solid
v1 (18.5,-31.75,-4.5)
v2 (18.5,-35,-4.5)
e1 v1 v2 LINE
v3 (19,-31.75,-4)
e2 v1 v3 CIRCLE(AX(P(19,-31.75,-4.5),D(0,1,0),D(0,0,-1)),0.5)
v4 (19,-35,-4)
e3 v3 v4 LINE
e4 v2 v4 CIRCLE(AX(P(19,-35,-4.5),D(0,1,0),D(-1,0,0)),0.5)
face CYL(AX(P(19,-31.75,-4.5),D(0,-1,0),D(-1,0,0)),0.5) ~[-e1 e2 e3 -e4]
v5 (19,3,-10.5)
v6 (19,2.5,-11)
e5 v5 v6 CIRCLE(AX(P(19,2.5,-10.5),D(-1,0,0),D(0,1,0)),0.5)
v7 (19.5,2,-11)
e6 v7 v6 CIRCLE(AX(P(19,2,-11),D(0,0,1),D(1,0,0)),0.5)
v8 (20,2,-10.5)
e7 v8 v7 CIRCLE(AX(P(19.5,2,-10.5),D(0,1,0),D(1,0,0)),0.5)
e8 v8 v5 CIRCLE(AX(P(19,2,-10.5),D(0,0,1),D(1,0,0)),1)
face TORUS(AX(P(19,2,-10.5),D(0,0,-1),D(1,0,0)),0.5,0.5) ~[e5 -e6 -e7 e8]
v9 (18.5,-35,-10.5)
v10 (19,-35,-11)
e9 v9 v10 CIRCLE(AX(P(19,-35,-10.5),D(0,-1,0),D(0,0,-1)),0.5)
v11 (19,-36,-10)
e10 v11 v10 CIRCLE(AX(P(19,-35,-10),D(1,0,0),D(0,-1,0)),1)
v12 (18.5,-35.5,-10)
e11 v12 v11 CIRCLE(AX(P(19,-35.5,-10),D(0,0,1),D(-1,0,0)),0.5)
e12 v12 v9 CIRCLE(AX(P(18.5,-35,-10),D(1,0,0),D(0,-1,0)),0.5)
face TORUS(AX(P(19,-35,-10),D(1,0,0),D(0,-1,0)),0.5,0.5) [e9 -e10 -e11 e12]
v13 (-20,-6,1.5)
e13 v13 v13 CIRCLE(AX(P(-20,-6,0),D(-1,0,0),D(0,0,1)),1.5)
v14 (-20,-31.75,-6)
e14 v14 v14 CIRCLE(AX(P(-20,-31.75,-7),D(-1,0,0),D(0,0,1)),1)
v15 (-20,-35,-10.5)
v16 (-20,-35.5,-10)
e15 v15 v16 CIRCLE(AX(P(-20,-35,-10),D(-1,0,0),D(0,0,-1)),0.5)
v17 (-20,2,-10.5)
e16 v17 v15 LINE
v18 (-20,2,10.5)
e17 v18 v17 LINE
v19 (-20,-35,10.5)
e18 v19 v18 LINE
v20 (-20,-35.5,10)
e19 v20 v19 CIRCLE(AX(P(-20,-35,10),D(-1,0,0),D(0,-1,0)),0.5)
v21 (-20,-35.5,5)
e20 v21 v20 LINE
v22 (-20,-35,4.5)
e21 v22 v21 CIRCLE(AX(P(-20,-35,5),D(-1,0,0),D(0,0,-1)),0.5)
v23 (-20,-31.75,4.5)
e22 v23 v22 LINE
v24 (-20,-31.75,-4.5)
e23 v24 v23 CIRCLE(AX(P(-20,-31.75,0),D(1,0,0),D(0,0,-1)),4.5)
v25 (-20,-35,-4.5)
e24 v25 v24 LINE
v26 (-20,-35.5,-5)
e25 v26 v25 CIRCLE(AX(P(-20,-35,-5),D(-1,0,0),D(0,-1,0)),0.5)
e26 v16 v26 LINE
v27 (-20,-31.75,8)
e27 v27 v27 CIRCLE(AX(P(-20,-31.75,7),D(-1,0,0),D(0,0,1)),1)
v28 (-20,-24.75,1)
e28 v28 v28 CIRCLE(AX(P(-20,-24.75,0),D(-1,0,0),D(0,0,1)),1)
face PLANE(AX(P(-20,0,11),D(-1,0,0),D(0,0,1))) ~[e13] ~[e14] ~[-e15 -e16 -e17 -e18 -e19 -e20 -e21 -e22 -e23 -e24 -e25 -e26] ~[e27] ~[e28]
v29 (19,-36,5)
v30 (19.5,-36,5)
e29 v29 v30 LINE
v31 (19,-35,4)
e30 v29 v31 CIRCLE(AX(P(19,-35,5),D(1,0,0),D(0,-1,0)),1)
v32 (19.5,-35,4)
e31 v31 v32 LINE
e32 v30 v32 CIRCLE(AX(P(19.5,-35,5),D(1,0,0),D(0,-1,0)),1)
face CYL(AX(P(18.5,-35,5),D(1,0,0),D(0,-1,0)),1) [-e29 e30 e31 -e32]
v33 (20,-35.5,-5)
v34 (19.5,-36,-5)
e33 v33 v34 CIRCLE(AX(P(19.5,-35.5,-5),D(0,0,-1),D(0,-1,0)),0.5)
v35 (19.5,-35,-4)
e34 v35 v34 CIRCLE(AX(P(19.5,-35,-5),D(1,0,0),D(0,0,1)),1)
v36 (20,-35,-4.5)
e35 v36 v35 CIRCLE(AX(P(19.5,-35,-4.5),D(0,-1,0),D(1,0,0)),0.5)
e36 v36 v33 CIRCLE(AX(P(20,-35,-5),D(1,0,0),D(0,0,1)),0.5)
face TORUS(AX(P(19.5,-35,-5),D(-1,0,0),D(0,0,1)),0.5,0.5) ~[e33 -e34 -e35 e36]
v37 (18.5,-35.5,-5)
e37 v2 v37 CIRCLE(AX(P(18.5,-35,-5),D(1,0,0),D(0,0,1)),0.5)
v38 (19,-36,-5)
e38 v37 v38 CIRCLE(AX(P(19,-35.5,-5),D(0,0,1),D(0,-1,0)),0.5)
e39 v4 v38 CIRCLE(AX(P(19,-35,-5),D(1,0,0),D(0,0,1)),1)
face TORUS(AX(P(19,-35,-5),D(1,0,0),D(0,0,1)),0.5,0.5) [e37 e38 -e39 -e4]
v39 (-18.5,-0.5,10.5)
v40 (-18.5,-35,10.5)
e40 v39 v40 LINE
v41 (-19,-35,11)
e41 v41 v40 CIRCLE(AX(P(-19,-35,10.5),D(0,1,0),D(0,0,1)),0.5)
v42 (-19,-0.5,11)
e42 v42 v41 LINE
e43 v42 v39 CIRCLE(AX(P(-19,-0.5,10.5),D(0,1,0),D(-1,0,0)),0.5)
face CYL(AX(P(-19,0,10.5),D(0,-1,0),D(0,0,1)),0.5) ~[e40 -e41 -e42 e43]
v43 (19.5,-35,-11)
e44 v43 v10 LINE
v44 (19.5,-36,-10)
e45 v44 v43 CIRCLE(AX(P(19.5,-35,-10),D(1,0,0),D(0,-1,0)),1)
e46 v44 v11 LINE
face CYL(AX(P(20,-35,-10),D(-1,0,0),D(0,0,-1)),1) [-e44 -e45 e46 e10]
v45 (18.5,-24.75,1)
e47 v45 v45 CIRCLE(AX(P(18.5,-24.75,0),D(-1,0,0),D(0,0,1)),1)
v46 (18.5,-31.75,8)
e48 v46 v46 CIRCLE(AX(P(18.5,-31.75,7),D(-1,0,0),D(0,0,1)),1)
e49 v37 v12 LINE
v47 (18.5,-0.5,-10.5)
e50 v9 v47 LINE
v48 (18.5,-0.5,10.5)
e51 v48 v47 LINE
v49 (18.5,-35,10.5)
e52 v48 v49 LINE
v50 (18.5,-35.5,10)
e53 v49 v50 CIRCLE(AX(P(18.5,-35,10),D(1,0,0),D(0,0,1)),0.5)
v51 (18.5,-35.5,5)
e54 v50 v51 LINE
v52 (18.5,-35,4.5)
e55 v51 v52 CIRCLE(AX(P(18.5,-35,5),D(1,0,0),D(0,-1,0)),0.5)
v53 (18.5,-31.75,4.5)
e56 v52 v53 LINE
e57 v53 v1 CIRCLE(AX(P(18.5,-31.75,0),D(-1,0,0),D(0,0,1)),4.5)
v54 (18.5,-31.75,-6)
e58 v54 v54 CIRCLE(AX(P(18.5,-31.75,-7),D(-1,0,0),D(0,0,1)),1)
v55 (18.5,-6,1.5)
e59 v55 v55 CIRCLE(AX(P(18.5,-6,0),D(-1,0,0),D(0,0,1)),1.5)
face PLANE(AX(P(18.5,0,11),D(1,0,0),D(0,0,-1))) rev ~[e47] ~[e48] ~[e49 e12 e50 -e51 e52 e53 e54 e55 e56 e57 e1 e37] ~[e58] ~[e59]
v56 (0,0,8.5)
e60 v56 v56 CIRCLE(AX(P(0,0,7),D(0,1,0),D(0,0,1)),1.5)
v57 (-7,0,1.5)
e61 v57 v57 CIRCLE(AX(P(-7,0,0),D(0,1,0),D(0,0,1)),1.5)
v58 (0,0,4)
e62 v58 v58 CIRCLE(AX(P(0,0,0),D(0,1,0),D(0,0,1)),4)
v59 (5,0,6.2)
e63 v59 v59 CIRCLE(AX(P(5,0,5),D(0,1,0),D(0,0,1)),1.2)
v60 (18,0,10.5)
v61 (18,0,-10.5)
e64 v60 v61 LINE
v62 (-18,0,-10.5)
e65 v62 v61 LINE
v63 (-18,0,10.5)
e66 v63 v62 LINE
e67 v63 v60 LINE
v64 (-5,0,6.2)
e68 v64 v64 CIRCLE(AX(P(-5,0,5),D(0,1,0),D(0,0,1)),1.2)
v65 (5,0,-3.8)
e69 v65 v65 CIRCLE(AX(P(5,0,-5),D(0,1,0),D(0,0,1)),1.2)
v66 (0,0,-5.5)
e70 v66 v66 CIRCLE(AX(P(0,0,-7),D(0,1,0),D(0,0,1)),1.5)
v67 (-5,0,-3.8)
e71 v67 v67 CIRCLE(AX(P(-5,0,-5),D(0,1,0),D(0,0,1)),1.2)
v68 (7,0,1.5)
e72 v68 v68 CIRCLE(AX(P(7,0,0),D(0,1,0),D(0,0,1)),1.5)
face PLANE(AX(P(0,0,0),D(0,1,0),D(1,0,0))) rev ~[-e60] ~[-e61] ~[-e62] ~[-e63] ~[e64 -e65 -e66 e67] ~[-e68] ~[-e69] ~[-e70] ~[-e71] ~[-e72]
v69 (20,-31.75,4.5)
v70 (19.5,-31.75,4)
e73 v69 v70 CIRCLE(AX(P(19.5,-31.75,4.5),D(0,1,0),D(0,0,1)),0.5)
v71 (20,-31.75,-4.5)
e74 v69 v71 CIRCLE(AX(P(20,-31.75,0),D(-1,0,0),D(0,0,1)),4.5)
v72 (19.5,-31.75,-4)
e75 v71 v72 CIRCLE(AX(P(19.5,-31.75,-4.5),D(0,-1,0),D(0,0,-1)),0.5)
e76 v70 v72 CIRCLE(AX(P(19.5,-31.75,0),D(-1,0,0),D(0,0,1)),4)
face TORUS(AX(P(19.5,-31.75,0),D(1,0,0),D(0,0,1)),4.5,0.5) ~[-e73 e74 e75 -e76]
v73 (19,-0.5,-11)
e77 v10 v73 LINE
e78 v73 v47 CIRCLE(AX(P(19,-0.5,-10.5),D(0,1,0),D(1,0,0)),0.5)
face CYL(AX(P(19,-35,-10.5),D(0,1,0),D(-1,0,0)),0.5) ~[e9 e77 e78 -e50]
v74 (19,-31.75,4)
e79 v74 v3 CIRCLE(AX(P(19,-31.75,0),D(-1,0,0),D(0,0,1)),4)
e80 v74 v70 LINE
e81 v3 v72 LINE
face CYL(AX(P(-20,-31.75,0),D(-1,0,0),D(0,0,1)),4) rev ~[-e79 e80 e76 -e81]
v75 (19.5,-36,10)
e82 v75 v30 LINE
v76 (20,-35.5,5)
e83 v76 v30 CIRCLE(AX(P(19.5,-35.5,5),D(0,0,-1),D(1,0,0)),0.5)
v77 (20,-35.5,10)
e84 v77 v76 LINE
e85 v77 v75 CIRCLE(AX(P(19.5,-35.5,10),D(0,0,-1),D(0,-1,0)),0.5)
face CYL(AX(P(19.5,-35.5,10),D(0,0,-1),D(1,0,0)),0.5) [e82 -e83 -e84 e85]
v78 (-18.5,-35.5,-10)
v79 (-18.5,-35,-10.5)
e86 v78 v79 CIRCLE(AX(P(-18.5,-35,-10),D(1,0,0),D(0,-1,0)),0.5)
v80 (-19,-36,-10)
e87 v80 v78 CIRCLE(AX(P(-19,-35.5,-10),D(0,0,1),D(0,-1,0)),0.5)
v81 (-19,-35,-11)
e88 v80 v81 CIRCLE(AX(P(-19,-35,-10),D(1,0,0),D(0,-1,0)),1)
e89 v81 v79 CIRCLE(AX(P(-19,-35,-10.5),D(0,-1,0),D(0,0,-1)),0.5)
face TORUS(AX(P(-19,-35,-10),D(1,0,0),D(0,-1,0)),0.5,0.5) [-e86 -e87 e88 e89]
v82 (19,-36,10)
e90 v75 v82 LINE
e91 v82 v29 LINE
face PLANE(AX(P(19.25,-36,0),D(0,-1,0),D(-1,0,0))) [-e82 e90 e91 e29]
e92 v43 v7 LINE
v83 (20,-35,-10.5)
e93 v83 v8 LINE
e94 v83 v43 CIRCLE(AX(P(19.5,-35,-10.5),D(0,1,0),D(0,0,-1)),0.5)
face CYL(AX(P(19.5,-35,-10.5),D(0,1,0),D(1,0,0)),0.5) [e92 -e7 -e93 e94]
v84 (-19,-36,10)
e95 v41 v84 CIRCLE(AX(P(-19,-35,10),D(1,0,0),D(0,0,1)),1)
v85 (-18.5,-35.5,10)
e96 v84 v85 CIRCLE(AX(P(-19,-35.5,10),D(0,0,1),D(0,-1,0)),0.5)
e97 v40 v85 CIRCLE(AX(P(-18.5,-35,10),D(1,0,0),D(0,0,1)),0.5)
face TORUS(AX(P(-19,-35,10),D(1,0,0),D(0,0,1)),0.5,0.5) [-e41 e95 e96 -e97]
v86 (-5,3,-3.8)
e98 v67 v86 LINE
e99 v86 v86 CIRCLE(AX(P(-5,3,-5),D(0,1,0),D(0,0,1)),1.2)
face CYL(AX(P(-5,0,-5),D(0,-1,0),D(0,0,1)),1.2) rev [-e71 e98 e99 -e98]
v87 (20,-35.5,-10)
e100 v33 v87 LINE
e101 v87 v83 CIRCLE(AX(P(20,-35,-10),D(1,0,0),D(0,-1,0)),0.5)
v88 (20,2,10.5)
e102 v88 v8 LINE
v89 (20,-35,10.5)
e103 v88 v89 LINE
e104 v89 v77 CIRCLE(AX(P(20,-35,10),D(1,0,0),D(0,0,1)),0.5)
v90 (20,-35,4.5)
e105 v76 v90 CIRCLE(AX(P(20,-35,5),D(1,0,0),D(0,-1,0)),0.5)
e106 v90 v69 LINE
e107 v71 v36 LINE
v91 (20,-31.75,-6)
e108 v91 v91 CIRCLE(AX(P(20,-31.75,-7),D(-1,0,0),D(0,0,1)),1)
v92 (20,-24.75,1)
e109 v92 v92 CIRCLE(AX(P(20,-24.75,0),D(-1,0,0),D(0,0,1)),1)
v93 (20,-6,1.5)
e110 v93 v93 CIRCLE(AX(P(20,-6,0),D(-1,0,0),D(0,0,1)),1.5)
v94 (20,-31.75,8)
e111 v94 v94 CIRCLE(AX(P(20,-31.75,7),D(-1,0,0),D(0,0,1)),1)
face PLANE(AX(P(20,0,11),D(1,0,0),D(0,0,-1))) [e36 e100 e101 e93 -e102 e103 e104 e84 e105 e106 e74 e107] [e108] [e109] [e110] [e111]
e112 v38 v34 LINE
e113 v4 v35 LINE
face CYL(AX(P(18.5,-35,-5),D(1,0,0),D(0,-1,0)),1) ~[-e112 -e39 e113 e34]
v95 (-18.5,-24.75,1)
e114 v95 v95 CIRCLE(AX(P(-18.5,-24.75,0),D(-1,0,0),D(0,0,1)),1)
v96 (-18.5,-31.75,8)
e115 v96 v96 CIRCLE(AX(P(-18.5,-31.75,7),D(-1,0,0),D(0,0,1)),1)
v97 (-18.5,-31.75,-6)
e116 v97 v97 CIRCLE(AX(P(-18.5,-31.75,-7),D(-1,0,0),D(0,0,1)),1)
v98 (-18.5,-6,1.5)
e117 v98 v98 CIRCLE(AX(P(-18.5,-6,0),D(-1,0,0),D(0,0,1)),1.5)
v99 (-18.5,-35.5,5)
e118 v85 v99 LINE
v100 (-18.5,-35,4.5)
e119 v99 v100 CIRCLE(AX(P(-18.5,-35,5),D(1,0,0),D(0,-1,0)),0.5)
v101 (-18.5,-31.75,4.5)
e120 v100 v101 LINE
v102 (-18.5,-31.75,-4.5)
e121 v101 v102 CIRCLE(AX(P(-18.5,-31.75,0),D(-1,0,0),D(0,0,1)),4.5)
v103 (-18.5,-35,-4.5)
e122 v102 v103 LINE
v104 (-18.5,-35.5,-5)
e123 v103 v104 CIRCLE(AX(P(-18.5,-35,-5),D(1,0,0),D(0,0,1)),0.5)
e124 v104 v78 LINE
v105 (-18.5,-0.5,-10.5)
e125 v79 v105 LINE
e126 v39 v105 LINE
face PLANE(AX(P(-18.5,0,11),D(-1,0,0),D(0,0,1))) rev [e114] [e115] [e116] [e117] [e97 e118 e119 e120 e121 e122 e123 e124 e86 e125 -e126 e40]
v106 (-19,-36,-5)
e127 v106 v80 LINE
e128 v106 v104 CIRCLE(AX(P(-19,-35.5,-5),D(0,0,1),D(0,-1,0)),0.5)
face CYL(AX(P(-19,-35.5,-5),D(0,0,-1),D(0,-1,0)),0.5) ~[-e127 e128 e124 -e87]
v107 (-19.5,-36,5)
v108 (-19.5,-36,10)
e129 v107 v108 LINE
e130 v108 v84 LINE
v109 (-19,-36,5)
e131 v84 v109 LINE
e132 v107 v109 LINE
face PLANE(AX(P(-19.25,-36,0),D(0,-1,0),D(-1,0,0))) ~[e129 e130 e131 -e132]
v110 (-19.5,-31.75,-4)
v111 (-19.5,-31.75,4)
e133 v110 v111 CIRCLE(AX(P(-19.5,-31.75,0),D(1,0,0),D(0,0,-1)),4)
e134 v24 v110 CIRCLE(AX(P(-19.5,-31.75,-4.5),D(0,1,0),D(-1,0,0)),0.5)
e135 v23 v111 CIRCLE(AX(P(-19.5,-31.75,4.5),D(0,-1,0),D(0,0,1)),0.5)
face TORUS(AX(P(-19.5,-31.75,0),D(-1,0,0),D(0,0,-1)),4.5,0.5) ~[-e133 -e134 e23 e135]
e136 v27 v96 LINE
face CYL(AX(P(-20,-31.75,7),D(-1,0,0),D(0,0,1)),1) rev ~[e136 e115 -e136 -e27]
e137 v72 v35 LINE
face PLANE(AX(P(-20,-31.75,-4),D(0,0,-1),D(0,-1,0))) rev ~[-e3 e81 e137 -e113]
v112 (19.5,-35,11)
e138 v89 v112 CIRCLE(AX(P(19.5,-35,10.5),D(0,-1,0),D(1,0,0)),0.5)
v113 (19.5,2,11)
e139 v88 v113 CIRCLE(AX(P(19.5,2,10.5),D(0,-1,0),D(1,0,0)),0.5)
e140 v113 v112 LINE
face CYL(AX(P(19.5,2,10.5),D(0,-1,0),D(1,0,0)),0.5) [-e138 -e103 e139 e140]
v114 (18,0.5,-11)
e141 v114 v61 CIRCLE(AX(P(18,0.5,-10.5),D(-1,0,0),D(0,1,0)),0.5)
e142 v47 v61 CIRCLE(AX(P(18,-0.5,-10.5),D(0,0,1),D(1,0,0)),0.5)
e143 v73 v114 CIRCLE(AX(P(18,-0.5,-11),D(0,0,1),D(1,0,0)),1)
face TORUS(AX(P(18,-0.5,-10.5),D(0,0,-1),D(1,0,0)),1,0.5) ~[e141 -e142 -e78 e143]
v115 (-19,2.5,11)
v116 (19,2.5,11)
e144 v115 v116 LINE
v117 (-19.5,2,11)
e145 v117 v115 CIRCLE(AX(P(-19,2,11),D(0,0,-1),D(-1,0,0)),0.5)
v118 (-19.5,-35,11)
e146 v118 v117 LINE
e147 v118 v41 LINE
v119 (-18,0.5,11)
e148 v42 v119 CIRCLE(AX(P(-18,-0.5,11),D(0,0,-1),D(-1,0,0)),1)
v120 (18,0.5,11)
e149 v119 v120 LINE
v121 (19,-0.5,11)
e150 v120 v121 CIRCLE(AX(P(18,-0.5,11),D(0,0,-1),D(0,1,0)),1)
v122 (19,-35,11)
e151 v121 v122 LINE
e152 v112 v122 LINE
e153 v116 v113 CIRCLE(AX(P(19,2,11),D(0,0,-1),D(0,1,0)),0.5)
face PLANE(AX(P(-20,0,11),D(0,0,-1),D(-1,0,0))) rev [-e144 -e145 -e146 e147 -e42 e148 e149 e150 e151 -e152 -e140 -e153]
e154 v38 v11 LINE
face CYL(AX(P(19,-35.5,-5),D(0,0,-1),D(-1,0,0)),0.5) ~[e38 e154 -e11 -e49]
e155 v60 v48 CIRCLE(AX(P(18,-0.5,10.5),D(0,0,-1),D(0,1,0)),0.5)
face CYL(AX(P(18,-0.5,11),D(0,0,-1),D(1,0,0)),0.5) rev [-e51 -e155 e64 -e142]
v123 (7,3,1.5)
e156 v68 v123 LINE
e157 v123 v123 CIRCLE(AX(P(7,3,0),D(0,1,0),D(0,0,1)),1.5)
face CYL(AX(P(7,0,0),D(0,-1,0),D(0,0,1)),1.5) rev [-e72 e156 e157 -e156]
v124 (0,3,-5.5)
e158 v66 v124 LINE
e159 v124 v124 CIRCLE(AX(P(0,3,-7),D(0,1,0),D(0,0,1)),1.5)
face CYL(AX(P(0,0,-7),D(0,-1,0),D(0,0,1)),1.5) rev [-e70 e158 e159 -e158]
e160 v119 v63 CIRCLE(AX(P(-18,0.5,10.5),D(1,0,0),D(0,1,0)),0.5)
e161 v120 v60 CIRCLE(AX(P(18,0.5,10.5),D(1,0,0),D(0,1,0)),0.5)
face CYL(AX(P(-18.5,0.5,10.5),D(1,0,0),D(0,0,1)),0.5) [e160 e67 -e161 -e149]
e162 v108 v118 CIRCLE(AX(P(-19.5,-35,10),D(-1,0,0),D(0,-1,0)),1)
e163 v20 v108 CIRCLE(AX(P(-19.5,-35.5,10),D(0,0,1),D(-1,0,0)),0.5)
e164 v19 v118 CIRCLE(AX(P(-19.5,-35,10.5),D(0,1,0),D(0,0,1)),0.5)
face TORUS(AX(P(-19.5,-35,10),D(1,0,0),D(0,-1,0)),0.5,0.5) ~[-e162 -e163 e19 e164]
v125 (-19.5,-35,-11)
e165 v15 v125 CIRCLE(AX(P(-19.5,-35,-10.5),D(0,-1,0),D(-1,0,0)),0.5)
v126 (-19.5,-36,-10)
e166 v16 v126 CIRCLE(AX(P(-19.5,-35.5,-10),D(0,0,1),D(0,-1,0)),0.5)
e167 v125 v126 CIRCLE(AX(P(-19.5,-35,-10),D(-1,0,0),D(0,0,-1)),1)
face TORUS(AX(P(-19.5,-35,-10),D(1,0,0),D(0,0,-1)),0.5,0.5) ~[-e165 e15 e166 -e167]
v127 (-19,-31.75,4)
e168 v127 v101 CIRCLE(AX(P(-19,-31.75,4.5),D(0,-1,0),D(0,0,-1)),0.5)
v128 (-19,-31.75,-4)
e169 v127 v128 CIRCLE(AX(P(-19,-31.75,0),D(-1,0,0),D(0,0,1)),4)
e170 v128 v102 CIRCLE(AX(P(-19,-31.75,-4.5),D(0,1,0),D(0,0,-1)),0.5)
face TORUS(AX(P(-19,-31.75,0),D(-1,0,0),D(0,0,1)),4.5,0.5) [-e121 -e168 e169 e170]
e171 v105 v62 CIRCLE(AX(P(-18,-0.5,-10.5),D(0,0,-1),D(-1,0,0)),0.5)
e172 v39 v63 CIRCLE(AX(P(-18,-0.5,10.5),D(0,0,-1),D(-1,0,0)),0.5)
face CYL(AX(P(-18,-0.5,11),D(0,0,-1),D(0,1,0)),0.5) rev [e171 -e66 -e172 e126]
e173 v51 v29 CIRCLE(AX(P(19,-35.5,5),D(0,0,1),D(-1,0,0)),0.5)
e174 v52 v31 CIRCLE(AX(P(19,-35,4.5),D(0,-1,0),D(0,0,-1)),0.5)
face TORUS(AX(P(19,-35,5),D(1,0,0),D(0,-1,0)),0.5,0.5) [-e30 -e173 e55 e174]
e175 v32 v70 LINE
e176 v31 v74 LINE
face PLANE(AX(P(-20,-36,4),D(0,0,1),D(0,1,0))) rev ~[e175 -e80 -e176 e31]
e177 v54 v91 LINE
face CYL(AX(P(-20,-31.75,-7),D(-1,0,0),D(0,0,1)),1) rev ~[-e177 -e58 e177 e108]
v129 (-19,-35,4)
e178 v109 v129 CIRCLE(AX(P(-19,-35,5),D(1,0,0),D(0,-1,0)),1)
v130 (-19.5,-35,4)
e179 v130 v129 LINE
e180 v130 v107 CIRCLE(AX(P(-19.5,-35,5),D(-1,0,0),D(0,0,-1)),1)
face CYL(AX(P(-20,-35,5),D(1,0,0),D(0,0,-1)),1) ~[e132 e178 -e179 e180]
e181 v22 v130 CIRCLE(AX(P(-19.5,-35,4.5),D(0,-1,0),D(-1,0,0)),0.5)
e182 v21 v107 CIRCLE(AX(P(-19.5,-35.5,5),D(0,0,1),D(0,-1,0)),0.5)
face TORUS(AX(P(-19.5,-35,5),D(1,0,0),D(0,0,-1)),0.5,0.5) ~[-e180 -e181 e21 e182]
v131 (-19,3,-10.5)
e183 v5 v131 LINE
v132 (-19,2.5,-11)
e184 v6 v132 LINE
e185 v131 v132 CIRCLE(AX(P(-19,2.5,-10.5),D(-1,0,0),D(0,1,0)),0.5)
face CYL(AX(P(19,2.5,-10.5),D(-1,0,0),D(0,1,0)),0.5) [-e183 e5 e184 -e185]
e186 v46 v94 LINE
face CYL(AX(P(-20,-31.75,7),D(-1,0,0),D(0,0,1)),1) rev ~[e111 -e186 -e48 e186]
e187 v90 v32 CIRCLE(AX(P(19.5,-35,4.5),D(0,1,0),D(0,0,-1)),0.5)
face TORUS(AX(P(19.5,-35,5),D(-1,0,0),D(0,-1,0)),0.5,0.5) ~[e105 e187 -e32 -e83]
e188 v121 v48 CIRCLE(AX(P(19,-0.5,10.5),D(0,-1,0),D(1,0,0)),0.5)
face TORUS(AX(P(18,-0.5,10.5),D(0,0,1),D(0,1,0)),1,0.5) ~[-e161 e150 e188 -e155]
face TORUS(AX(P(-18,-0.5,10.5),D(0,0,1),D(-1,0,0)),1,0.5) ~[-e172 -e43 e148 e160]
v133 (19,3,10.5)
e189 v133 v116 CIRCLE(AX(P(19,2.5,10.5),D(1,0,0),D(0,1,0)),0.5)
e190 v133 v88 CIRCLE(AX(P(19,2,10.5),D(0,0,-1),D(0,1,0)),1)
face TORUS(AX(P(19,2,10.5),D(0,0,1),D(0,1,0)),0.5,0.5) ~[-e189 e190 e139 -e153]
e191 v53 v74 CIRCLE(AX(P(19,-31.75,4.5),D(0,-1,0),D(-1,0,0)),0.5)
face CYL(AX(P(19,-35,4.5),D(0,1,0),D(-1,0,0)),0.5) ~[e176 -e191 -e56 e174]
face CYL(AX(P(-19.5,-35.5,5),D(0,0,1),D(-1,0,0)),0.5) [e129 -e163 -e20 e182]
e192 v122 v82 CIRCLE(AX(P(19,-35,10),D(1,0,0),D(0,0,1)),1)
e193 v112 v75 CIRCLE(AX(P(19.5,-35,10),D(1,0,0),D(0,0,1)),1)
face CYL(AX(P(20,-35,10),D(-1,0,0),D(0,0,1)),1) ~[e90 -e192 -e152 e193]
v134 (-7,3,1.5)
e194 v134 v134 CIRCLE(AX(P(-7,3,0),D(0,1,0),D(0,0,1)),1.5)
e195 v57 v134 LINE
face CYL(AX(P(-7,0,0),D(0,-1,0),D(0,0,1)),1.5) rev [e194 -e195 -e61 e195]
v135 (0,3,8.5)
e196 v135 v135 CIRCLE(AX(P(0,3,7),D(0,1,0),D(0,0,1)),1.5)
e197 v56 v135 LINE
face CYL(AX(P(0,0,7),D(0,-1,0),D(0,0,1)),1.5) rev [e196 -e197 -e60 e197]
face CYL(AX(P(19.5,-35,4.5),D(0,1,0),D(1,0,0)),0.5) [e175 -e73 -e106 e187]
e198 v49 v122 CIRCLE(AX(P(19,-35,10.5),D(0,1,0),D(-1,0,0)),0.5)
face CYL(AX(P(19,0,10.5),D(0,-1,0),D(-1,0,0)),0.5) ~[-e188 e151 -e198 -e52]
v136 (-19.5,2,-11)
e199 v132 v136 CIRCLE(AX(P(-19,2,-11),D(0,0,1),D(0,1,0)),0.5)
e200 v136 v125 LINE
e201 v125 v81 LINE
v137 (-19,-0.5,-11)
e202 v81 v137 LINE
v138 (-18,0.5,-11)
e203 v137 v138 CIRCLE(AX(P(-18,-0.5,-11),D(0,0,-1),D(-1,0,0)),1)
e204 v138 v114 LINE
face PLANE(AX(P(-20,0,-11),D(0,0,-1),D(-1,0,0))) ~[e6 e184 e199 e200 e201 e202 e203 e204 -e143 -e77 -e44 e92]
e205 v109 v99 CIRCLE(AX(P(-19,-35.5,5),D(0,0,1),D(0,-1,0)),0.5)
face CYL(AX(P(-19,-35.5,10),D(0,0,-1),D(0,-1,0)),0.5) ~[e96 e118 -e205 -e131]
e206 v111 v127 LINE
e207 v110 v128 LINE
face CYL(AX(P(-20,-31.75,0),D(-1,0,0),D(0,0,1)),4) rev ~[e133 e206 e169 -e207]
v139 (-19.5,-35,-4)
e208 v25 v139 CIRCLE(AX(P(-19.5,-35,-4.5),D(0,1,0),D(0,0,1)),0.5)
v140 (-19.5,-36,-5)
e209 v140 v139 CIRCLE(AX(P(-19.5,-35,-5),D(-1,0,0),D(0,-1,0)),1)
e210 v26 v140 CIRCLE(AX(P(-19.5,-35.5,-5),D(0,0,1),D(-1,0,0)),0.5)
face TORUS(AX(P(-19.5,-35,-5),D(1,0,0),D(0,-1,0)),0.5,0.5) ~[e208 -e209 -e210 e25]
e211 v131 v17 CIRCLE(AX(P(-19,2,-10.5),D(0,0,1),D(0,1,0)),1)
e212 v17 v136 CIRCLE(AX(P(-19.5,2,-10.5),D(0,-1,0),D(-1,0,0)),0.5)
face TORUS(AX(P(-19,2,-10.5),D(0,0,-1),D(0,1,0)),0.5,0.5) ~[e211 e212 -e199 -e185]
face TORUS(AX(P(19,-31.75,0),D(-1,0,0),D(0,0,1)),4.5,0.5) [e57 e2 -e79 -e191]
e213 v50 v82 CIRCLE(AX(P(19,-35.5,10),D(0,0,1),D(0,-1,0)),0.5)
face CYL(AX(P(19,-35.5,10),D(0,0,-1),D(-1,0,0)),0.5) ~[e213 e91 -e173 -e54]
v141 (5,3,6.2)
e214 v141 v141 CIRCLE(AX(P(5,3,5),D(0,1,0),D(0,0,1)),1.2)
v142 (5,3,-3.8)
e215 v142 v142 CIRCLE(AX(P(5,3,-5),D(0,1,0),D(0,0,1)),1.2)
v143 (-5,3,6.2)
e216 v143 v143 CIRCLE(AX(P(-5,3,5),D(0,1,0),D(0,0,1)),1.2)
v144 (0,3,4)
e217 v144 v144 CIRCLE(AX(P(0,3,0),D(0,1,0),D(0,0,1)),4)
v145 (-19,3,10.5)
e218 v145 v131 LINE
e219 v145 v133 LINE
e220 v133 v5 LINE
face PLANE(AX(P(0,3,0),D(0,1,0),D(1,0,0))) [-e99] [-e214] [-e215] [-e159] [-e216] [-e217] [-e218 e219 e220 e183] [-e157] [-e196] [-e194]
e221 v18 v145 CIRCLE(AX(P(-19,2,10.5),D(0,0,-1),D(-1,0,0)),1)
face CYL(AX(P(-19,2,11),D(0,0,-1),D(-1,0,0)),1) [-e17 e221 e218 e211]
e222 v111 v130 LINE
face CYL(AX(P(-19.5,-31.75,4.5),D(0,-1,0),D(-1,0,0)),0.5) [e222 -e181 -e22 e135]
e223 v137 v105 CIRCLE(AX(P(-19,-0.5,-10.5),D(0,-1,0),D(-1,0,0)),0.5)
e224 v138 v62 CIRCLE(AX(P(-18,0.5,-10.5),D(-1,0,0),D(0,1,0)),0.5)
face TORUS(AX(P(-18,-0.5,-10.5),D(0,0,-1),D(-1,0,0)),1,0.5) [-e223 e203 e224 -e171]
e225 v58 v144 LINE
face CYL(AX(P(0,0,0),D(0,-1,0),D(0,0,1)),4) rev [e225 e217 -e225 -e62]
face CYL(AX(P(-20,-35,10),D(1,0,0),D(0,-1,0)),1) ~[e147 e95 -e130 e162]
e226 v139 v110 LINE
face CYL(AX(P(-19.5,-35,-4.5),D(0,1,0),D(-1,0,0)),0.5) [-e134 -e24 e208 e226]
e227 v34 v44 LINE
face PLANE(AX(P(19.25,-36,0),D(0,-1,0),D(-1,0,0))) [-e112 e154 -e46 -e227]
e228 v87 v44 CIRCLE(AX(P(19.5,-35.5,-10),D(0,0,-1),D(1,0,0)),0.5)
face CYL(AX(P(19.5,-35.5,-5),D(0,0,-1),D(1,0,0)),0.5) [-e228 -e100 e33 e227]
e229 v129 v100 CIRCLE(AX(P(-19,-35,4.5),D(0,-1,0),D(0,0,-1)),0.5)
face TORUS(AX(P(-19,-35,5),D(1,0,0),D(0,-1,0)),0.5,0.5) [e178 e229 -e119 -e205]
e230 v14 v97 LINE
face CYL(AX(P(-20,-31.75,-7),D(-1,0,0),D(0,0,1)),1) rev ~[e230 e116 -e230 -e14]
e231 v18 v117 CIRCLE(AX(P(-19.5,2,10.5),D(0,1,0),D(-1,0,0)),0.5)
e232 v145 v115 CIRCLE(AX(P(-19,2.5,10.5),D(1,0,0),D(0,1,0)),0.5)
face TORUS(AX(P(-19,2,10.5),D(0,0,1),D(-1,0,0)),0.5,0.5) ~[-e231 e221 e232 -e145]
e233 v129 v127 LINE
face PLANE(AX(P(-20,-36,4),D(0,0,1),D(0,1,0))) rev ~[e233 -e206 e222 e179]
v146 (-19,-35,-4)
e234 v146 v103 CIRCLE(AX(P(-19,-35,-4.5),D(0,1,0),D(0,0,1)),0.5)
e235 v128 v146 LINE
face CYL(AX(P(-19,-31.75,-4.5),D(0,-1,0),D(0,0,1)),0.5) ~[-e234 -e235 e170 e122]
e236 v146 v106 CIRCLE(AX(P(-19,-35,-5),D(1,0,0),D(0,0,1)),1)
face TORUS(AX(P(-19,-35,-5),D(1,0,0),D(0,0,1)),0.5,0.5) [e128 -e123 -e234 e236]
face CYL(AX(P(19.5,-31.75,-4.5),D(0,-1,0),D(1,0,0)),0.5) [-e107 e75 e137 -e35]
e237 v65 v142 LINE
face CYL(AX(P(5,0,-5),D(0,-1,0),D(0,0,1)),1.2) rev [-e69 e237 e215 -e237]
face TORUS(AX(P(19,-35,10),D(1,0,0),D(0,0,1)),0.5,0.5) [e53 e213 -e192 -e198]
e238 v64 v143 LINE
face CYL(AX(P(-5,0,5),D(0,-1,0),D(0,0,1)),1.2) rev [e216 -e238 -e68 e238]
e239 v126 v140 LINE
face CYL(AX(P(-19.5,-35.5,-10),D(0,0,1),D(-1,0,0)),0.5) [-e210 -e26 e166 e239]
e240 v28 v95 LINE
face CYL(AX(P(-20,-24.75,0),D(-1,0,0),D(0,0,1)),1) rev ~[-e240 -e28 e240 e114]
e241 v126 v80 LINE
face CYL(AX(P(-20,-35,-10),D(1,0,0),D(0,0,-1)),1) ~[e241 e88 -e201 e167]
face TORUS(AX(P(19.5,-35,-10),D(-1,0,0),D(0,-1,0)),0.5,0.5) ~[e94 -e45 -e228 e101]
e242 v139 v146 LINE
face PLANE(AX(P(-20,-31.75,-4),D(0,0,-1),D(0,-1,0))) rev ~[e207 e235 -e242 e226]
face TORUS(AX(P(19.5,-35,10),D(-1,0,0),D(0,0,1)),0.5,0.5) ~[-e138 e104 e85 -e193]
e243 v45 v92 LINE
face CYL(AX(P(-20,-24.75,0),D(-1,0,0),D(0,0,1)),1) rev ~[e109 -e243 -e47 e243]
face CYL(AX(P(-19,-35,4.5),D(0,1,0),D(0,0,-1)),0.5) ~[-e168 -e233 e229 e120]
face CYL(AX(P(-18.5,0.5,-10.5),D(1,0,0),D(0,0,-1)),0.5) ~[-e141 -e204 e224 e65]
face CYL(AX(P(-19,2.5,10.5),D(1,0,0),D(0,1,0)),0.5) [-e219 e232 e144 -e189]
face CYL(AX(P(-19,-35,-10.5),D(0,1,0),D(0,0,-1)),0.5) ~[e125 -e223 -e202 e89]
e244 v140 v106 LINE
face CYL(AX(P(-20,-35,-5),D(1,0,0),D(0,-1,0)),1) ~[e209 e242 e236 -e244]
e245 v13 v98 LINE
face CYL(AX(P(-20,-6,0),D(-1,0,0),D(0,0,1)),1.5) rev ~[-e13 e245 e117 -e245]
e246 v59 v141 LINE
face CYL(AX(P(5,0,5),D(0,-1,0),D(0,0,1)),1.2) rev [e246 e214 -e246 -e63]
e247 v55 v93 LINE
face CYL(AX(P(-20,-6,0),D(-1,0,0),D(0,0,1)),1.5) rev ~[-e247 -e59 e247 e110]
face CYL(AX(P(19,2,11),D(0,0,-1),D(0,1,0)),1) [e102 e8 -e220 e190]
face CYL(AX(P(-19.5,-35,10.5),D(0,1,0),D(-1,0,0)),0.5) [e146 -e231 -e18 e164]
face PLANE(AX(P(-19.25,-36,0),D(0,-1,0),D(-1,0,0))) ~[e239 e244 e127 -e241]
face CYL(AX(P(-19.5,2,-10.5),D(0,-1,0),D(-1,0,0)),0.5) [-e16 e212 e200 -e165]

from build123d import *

# Parameters (mm, degrees)
SKETCH1_W           = 40
SKETCH1_H           = 22
SKETCH1_R           = 4
SKETCH1_R_2         = 1.5
SKETCH1_R_3         = 1.2
BOSS_EXTRUDE1_DEPTH = 3
SKETCH2_W           = 1.5
SKETCH2_H           = 22
BOSS_EXTRUDE2_DEPTH = 36
FILLET1_R           = 1
SKETCH3_R           = 1.5
SKETCH3_R_2         = 1
CUT_EXTRUDE1_DEPTH  = 55.927224579
FILLET2_R           = 1
FILLET_1_R          = 0.5


with BuildPart() as part:
    # Sketch1 → Boss-Extrude1 (new body)
    with BuildSketch(Plane(origin=(0, 0, 0), x_dir=(1, 0, 0), z_dir=(0, 1, 0))):
        Rectangle(SKETCH1_W, SKETCH1_H)
        with Locations(Location((0, 0, 0), (0, 0, 270))):
            Circle(SKETCH1_R, mode=Mode.SUBTRACT)
        with Locations(Location((0, 7, 0), (0, 0, 270))):
            Circle(SKETCH1_R_2, mode=Mode.SUBTRACT)
        with Locations(Location((7, 0, 0), (0, 0, 270))):
            Circle(SKETCH1_R_2, mode=Mode.SUBTRACT)
        with Locations(Location((0, -7, 0), (0, 0, 270))):
            Circle(SKETCH1_R_2, mode=Mode.SUBTRACT)
        with Locations(Location((-7, 0, 0), (0, 0, 270))):
            Circle(SKETCH1_R_2, mode=Mode.SUBTRACT)
        with Locations(Location((5, 5, 0), (0, 0, 270))):
            Circle(SKETCH1_R_3, mode=Mode.SUBTRACT)
        with Locations(Location((5, -5, 0), (0, 0, 270))):
            Circle(SKETCH1_R_3, mode=Mode.SUBTRACT)
        with Locations(Location((-5, -5, 0), (0, 0, 270))):
            Circle(SKETCH1_R_3, mode=Mode.SUBTRACT)
        with Locations(Location((-5, 5, 0), (0, 0, 270))):
            Circle(SKETCH1_R_3, mode=Mode.SUBTRACT)
    extrude(amount=BOSS_EXTRUDE1_DEPTH)

    # Sketch2 → Boss-Extrude2 (add)
    with BuildSketch(Plane(origin=(0, 0, 0), x_dir=(-1, 0, 0), z_dir=(0, -1, 0))):
        with Locations((-19.25, 0)):
            Rectangle(SKETCH2_W, SKETCH2_H)
    boss_extrude2 = extrude(amount=BOSS_EXTRUDE2_DEPTH)

    # Mirror1: Boss-Extrude2 across plane
    add(boss_extrude2.mirror(Plane(origin=(0, 0, 0), x_dir=(0, 0, 1), z_dir=(1, 0, 0))))

    # Fillet1
    fillet1_edges = [part.edges().sort_by_distance(p)[0] for p in [
        (-20, 3, 0),
        (20, 3, 0),
    ]]
    fillet(fillet1_edges, radius=FILLET1_R)

    # Sketch3 → Cut-Extrude1 (cut, through all)
    with BuildSketch(Plane.ZY.offset(20)):
        with Locations((0, -6)):
            Circle(SKETCH3_R)
        with Locations((0, -24.75)):
            Circle(SKETCH3_R_2)
        with Locations((-7, -31.75)):
            Circle(SKETCH3_R_2)
        with Locations((7, -31.75)):
            Circle(SKETCH3_R_2)
        with BuildLine():
            Line((-4, -31.75), (-4, -36))
            Line((-4, -36), (4, -36))
            Line((4, -36), (4, -31.75))
            ThreePointArc((4, -31.75), (0, -27.75), (-4, -31.75))
        make_face()
    extrude(amount=-CUT_EXTRUDE1_DEPTH, mode=Mode.SUBTRACT)

    # Fillet2
    fillet2_edges = [part.edges().sort_by_distance(p)[0] for p in [
        (-19.25, -36, -4),
        (-19.25, -36, 4),
        (19.25, -36, 4),
        (19.25, -36, -4),
        (19.25, -36, 11),
        (19.25, -36, -11),
        (-19.25, -36, -11),
        (-19.25, -36, 11),
    ]]
    fillet(fillet2_edges, radius=FILLET2_R)

    # 圆角1
    fillet_1_edges = [part.edges().sort_by_distance(p)[0] for p in [
        (-18.5, -27.75, 0),
        (18.5, -27.75, 0),
        (20, -27.75, 0),
        (18.5, -33.375, 4),
        (-18.5, -33.375, 4),
        (20, -33.375, -4),
        (-20, -27.75, 0),
        (-20, -33.375, -4),
        (18.5, -17.5, -11),
        (-18.5, -17.5, -11),
        (-20, -33.375, 4),
        (-20, -36, 7.5),
        (-20, -36, -7.5),
        (-20, -35.707106781, 10.707106781),
        (-20, -35.707106781, 4.292893219),
        (-20, -35.707106781, -4.292893219),
        (-20, -35.707106781, -10.707106781),
        (-18.5, -36, -7.5),
        (-18.5, -33.375, -4),
        (-18.5, -17.5, 11),
        (-18.5, -36, 7.5),
        (-18.5, -35.707106781, 10.707106781),
        (-18.5, -35.707106781, 4.292893219),
        (-18.5, -35.707106781, -4.292893219),
        (-18.5, -35.707106781, -10.707106781),
        (18.5, -17.5, 11),
        (20, -36, 7.5),
        (18.5, -36, 7.5),
        (18.5, -36, -7.5),
        (18.5, -33.375, -4),
        (18.5, -35.707106781, -10.707106781),
        (18.5, -35.707106781, -4.292893219),
        (18.5, -35.707106781, 4.292893219),
        (18.5, -35.707106781, 10.707106781),
        (20, -33.375, 4),
        (20, -36, -7.5),
        (20, -35.707106781, -10.707106781),
        (20, -35.707106781, -4.292893219),
        (20, -35.707106781, 4.292893219),
        (20, -35.707106781, 10.707106781),
        (0, 0, -11),
        (18.5, 0, 0),
        (0, 0, 11),
        (-18.5, 0, 0),
        (0, 3, -11),
        (0, 3, 11),
        (20, -16.5, -11),
        (-20, -16.5, -11),
        (-19.707106781, 2.707106781, -11),
        (19.707106781, 2.707106781, -11),
        (20, -16.5, 11),
        (-20, -16.5, 11),
        (-19.707106781, 2.707106781, 11),
        (19.707106781, 2.707106781, 11),
    ]]
    fillet(fillet_1_edges, radius=FILLET_1_R)


solid = part.part
